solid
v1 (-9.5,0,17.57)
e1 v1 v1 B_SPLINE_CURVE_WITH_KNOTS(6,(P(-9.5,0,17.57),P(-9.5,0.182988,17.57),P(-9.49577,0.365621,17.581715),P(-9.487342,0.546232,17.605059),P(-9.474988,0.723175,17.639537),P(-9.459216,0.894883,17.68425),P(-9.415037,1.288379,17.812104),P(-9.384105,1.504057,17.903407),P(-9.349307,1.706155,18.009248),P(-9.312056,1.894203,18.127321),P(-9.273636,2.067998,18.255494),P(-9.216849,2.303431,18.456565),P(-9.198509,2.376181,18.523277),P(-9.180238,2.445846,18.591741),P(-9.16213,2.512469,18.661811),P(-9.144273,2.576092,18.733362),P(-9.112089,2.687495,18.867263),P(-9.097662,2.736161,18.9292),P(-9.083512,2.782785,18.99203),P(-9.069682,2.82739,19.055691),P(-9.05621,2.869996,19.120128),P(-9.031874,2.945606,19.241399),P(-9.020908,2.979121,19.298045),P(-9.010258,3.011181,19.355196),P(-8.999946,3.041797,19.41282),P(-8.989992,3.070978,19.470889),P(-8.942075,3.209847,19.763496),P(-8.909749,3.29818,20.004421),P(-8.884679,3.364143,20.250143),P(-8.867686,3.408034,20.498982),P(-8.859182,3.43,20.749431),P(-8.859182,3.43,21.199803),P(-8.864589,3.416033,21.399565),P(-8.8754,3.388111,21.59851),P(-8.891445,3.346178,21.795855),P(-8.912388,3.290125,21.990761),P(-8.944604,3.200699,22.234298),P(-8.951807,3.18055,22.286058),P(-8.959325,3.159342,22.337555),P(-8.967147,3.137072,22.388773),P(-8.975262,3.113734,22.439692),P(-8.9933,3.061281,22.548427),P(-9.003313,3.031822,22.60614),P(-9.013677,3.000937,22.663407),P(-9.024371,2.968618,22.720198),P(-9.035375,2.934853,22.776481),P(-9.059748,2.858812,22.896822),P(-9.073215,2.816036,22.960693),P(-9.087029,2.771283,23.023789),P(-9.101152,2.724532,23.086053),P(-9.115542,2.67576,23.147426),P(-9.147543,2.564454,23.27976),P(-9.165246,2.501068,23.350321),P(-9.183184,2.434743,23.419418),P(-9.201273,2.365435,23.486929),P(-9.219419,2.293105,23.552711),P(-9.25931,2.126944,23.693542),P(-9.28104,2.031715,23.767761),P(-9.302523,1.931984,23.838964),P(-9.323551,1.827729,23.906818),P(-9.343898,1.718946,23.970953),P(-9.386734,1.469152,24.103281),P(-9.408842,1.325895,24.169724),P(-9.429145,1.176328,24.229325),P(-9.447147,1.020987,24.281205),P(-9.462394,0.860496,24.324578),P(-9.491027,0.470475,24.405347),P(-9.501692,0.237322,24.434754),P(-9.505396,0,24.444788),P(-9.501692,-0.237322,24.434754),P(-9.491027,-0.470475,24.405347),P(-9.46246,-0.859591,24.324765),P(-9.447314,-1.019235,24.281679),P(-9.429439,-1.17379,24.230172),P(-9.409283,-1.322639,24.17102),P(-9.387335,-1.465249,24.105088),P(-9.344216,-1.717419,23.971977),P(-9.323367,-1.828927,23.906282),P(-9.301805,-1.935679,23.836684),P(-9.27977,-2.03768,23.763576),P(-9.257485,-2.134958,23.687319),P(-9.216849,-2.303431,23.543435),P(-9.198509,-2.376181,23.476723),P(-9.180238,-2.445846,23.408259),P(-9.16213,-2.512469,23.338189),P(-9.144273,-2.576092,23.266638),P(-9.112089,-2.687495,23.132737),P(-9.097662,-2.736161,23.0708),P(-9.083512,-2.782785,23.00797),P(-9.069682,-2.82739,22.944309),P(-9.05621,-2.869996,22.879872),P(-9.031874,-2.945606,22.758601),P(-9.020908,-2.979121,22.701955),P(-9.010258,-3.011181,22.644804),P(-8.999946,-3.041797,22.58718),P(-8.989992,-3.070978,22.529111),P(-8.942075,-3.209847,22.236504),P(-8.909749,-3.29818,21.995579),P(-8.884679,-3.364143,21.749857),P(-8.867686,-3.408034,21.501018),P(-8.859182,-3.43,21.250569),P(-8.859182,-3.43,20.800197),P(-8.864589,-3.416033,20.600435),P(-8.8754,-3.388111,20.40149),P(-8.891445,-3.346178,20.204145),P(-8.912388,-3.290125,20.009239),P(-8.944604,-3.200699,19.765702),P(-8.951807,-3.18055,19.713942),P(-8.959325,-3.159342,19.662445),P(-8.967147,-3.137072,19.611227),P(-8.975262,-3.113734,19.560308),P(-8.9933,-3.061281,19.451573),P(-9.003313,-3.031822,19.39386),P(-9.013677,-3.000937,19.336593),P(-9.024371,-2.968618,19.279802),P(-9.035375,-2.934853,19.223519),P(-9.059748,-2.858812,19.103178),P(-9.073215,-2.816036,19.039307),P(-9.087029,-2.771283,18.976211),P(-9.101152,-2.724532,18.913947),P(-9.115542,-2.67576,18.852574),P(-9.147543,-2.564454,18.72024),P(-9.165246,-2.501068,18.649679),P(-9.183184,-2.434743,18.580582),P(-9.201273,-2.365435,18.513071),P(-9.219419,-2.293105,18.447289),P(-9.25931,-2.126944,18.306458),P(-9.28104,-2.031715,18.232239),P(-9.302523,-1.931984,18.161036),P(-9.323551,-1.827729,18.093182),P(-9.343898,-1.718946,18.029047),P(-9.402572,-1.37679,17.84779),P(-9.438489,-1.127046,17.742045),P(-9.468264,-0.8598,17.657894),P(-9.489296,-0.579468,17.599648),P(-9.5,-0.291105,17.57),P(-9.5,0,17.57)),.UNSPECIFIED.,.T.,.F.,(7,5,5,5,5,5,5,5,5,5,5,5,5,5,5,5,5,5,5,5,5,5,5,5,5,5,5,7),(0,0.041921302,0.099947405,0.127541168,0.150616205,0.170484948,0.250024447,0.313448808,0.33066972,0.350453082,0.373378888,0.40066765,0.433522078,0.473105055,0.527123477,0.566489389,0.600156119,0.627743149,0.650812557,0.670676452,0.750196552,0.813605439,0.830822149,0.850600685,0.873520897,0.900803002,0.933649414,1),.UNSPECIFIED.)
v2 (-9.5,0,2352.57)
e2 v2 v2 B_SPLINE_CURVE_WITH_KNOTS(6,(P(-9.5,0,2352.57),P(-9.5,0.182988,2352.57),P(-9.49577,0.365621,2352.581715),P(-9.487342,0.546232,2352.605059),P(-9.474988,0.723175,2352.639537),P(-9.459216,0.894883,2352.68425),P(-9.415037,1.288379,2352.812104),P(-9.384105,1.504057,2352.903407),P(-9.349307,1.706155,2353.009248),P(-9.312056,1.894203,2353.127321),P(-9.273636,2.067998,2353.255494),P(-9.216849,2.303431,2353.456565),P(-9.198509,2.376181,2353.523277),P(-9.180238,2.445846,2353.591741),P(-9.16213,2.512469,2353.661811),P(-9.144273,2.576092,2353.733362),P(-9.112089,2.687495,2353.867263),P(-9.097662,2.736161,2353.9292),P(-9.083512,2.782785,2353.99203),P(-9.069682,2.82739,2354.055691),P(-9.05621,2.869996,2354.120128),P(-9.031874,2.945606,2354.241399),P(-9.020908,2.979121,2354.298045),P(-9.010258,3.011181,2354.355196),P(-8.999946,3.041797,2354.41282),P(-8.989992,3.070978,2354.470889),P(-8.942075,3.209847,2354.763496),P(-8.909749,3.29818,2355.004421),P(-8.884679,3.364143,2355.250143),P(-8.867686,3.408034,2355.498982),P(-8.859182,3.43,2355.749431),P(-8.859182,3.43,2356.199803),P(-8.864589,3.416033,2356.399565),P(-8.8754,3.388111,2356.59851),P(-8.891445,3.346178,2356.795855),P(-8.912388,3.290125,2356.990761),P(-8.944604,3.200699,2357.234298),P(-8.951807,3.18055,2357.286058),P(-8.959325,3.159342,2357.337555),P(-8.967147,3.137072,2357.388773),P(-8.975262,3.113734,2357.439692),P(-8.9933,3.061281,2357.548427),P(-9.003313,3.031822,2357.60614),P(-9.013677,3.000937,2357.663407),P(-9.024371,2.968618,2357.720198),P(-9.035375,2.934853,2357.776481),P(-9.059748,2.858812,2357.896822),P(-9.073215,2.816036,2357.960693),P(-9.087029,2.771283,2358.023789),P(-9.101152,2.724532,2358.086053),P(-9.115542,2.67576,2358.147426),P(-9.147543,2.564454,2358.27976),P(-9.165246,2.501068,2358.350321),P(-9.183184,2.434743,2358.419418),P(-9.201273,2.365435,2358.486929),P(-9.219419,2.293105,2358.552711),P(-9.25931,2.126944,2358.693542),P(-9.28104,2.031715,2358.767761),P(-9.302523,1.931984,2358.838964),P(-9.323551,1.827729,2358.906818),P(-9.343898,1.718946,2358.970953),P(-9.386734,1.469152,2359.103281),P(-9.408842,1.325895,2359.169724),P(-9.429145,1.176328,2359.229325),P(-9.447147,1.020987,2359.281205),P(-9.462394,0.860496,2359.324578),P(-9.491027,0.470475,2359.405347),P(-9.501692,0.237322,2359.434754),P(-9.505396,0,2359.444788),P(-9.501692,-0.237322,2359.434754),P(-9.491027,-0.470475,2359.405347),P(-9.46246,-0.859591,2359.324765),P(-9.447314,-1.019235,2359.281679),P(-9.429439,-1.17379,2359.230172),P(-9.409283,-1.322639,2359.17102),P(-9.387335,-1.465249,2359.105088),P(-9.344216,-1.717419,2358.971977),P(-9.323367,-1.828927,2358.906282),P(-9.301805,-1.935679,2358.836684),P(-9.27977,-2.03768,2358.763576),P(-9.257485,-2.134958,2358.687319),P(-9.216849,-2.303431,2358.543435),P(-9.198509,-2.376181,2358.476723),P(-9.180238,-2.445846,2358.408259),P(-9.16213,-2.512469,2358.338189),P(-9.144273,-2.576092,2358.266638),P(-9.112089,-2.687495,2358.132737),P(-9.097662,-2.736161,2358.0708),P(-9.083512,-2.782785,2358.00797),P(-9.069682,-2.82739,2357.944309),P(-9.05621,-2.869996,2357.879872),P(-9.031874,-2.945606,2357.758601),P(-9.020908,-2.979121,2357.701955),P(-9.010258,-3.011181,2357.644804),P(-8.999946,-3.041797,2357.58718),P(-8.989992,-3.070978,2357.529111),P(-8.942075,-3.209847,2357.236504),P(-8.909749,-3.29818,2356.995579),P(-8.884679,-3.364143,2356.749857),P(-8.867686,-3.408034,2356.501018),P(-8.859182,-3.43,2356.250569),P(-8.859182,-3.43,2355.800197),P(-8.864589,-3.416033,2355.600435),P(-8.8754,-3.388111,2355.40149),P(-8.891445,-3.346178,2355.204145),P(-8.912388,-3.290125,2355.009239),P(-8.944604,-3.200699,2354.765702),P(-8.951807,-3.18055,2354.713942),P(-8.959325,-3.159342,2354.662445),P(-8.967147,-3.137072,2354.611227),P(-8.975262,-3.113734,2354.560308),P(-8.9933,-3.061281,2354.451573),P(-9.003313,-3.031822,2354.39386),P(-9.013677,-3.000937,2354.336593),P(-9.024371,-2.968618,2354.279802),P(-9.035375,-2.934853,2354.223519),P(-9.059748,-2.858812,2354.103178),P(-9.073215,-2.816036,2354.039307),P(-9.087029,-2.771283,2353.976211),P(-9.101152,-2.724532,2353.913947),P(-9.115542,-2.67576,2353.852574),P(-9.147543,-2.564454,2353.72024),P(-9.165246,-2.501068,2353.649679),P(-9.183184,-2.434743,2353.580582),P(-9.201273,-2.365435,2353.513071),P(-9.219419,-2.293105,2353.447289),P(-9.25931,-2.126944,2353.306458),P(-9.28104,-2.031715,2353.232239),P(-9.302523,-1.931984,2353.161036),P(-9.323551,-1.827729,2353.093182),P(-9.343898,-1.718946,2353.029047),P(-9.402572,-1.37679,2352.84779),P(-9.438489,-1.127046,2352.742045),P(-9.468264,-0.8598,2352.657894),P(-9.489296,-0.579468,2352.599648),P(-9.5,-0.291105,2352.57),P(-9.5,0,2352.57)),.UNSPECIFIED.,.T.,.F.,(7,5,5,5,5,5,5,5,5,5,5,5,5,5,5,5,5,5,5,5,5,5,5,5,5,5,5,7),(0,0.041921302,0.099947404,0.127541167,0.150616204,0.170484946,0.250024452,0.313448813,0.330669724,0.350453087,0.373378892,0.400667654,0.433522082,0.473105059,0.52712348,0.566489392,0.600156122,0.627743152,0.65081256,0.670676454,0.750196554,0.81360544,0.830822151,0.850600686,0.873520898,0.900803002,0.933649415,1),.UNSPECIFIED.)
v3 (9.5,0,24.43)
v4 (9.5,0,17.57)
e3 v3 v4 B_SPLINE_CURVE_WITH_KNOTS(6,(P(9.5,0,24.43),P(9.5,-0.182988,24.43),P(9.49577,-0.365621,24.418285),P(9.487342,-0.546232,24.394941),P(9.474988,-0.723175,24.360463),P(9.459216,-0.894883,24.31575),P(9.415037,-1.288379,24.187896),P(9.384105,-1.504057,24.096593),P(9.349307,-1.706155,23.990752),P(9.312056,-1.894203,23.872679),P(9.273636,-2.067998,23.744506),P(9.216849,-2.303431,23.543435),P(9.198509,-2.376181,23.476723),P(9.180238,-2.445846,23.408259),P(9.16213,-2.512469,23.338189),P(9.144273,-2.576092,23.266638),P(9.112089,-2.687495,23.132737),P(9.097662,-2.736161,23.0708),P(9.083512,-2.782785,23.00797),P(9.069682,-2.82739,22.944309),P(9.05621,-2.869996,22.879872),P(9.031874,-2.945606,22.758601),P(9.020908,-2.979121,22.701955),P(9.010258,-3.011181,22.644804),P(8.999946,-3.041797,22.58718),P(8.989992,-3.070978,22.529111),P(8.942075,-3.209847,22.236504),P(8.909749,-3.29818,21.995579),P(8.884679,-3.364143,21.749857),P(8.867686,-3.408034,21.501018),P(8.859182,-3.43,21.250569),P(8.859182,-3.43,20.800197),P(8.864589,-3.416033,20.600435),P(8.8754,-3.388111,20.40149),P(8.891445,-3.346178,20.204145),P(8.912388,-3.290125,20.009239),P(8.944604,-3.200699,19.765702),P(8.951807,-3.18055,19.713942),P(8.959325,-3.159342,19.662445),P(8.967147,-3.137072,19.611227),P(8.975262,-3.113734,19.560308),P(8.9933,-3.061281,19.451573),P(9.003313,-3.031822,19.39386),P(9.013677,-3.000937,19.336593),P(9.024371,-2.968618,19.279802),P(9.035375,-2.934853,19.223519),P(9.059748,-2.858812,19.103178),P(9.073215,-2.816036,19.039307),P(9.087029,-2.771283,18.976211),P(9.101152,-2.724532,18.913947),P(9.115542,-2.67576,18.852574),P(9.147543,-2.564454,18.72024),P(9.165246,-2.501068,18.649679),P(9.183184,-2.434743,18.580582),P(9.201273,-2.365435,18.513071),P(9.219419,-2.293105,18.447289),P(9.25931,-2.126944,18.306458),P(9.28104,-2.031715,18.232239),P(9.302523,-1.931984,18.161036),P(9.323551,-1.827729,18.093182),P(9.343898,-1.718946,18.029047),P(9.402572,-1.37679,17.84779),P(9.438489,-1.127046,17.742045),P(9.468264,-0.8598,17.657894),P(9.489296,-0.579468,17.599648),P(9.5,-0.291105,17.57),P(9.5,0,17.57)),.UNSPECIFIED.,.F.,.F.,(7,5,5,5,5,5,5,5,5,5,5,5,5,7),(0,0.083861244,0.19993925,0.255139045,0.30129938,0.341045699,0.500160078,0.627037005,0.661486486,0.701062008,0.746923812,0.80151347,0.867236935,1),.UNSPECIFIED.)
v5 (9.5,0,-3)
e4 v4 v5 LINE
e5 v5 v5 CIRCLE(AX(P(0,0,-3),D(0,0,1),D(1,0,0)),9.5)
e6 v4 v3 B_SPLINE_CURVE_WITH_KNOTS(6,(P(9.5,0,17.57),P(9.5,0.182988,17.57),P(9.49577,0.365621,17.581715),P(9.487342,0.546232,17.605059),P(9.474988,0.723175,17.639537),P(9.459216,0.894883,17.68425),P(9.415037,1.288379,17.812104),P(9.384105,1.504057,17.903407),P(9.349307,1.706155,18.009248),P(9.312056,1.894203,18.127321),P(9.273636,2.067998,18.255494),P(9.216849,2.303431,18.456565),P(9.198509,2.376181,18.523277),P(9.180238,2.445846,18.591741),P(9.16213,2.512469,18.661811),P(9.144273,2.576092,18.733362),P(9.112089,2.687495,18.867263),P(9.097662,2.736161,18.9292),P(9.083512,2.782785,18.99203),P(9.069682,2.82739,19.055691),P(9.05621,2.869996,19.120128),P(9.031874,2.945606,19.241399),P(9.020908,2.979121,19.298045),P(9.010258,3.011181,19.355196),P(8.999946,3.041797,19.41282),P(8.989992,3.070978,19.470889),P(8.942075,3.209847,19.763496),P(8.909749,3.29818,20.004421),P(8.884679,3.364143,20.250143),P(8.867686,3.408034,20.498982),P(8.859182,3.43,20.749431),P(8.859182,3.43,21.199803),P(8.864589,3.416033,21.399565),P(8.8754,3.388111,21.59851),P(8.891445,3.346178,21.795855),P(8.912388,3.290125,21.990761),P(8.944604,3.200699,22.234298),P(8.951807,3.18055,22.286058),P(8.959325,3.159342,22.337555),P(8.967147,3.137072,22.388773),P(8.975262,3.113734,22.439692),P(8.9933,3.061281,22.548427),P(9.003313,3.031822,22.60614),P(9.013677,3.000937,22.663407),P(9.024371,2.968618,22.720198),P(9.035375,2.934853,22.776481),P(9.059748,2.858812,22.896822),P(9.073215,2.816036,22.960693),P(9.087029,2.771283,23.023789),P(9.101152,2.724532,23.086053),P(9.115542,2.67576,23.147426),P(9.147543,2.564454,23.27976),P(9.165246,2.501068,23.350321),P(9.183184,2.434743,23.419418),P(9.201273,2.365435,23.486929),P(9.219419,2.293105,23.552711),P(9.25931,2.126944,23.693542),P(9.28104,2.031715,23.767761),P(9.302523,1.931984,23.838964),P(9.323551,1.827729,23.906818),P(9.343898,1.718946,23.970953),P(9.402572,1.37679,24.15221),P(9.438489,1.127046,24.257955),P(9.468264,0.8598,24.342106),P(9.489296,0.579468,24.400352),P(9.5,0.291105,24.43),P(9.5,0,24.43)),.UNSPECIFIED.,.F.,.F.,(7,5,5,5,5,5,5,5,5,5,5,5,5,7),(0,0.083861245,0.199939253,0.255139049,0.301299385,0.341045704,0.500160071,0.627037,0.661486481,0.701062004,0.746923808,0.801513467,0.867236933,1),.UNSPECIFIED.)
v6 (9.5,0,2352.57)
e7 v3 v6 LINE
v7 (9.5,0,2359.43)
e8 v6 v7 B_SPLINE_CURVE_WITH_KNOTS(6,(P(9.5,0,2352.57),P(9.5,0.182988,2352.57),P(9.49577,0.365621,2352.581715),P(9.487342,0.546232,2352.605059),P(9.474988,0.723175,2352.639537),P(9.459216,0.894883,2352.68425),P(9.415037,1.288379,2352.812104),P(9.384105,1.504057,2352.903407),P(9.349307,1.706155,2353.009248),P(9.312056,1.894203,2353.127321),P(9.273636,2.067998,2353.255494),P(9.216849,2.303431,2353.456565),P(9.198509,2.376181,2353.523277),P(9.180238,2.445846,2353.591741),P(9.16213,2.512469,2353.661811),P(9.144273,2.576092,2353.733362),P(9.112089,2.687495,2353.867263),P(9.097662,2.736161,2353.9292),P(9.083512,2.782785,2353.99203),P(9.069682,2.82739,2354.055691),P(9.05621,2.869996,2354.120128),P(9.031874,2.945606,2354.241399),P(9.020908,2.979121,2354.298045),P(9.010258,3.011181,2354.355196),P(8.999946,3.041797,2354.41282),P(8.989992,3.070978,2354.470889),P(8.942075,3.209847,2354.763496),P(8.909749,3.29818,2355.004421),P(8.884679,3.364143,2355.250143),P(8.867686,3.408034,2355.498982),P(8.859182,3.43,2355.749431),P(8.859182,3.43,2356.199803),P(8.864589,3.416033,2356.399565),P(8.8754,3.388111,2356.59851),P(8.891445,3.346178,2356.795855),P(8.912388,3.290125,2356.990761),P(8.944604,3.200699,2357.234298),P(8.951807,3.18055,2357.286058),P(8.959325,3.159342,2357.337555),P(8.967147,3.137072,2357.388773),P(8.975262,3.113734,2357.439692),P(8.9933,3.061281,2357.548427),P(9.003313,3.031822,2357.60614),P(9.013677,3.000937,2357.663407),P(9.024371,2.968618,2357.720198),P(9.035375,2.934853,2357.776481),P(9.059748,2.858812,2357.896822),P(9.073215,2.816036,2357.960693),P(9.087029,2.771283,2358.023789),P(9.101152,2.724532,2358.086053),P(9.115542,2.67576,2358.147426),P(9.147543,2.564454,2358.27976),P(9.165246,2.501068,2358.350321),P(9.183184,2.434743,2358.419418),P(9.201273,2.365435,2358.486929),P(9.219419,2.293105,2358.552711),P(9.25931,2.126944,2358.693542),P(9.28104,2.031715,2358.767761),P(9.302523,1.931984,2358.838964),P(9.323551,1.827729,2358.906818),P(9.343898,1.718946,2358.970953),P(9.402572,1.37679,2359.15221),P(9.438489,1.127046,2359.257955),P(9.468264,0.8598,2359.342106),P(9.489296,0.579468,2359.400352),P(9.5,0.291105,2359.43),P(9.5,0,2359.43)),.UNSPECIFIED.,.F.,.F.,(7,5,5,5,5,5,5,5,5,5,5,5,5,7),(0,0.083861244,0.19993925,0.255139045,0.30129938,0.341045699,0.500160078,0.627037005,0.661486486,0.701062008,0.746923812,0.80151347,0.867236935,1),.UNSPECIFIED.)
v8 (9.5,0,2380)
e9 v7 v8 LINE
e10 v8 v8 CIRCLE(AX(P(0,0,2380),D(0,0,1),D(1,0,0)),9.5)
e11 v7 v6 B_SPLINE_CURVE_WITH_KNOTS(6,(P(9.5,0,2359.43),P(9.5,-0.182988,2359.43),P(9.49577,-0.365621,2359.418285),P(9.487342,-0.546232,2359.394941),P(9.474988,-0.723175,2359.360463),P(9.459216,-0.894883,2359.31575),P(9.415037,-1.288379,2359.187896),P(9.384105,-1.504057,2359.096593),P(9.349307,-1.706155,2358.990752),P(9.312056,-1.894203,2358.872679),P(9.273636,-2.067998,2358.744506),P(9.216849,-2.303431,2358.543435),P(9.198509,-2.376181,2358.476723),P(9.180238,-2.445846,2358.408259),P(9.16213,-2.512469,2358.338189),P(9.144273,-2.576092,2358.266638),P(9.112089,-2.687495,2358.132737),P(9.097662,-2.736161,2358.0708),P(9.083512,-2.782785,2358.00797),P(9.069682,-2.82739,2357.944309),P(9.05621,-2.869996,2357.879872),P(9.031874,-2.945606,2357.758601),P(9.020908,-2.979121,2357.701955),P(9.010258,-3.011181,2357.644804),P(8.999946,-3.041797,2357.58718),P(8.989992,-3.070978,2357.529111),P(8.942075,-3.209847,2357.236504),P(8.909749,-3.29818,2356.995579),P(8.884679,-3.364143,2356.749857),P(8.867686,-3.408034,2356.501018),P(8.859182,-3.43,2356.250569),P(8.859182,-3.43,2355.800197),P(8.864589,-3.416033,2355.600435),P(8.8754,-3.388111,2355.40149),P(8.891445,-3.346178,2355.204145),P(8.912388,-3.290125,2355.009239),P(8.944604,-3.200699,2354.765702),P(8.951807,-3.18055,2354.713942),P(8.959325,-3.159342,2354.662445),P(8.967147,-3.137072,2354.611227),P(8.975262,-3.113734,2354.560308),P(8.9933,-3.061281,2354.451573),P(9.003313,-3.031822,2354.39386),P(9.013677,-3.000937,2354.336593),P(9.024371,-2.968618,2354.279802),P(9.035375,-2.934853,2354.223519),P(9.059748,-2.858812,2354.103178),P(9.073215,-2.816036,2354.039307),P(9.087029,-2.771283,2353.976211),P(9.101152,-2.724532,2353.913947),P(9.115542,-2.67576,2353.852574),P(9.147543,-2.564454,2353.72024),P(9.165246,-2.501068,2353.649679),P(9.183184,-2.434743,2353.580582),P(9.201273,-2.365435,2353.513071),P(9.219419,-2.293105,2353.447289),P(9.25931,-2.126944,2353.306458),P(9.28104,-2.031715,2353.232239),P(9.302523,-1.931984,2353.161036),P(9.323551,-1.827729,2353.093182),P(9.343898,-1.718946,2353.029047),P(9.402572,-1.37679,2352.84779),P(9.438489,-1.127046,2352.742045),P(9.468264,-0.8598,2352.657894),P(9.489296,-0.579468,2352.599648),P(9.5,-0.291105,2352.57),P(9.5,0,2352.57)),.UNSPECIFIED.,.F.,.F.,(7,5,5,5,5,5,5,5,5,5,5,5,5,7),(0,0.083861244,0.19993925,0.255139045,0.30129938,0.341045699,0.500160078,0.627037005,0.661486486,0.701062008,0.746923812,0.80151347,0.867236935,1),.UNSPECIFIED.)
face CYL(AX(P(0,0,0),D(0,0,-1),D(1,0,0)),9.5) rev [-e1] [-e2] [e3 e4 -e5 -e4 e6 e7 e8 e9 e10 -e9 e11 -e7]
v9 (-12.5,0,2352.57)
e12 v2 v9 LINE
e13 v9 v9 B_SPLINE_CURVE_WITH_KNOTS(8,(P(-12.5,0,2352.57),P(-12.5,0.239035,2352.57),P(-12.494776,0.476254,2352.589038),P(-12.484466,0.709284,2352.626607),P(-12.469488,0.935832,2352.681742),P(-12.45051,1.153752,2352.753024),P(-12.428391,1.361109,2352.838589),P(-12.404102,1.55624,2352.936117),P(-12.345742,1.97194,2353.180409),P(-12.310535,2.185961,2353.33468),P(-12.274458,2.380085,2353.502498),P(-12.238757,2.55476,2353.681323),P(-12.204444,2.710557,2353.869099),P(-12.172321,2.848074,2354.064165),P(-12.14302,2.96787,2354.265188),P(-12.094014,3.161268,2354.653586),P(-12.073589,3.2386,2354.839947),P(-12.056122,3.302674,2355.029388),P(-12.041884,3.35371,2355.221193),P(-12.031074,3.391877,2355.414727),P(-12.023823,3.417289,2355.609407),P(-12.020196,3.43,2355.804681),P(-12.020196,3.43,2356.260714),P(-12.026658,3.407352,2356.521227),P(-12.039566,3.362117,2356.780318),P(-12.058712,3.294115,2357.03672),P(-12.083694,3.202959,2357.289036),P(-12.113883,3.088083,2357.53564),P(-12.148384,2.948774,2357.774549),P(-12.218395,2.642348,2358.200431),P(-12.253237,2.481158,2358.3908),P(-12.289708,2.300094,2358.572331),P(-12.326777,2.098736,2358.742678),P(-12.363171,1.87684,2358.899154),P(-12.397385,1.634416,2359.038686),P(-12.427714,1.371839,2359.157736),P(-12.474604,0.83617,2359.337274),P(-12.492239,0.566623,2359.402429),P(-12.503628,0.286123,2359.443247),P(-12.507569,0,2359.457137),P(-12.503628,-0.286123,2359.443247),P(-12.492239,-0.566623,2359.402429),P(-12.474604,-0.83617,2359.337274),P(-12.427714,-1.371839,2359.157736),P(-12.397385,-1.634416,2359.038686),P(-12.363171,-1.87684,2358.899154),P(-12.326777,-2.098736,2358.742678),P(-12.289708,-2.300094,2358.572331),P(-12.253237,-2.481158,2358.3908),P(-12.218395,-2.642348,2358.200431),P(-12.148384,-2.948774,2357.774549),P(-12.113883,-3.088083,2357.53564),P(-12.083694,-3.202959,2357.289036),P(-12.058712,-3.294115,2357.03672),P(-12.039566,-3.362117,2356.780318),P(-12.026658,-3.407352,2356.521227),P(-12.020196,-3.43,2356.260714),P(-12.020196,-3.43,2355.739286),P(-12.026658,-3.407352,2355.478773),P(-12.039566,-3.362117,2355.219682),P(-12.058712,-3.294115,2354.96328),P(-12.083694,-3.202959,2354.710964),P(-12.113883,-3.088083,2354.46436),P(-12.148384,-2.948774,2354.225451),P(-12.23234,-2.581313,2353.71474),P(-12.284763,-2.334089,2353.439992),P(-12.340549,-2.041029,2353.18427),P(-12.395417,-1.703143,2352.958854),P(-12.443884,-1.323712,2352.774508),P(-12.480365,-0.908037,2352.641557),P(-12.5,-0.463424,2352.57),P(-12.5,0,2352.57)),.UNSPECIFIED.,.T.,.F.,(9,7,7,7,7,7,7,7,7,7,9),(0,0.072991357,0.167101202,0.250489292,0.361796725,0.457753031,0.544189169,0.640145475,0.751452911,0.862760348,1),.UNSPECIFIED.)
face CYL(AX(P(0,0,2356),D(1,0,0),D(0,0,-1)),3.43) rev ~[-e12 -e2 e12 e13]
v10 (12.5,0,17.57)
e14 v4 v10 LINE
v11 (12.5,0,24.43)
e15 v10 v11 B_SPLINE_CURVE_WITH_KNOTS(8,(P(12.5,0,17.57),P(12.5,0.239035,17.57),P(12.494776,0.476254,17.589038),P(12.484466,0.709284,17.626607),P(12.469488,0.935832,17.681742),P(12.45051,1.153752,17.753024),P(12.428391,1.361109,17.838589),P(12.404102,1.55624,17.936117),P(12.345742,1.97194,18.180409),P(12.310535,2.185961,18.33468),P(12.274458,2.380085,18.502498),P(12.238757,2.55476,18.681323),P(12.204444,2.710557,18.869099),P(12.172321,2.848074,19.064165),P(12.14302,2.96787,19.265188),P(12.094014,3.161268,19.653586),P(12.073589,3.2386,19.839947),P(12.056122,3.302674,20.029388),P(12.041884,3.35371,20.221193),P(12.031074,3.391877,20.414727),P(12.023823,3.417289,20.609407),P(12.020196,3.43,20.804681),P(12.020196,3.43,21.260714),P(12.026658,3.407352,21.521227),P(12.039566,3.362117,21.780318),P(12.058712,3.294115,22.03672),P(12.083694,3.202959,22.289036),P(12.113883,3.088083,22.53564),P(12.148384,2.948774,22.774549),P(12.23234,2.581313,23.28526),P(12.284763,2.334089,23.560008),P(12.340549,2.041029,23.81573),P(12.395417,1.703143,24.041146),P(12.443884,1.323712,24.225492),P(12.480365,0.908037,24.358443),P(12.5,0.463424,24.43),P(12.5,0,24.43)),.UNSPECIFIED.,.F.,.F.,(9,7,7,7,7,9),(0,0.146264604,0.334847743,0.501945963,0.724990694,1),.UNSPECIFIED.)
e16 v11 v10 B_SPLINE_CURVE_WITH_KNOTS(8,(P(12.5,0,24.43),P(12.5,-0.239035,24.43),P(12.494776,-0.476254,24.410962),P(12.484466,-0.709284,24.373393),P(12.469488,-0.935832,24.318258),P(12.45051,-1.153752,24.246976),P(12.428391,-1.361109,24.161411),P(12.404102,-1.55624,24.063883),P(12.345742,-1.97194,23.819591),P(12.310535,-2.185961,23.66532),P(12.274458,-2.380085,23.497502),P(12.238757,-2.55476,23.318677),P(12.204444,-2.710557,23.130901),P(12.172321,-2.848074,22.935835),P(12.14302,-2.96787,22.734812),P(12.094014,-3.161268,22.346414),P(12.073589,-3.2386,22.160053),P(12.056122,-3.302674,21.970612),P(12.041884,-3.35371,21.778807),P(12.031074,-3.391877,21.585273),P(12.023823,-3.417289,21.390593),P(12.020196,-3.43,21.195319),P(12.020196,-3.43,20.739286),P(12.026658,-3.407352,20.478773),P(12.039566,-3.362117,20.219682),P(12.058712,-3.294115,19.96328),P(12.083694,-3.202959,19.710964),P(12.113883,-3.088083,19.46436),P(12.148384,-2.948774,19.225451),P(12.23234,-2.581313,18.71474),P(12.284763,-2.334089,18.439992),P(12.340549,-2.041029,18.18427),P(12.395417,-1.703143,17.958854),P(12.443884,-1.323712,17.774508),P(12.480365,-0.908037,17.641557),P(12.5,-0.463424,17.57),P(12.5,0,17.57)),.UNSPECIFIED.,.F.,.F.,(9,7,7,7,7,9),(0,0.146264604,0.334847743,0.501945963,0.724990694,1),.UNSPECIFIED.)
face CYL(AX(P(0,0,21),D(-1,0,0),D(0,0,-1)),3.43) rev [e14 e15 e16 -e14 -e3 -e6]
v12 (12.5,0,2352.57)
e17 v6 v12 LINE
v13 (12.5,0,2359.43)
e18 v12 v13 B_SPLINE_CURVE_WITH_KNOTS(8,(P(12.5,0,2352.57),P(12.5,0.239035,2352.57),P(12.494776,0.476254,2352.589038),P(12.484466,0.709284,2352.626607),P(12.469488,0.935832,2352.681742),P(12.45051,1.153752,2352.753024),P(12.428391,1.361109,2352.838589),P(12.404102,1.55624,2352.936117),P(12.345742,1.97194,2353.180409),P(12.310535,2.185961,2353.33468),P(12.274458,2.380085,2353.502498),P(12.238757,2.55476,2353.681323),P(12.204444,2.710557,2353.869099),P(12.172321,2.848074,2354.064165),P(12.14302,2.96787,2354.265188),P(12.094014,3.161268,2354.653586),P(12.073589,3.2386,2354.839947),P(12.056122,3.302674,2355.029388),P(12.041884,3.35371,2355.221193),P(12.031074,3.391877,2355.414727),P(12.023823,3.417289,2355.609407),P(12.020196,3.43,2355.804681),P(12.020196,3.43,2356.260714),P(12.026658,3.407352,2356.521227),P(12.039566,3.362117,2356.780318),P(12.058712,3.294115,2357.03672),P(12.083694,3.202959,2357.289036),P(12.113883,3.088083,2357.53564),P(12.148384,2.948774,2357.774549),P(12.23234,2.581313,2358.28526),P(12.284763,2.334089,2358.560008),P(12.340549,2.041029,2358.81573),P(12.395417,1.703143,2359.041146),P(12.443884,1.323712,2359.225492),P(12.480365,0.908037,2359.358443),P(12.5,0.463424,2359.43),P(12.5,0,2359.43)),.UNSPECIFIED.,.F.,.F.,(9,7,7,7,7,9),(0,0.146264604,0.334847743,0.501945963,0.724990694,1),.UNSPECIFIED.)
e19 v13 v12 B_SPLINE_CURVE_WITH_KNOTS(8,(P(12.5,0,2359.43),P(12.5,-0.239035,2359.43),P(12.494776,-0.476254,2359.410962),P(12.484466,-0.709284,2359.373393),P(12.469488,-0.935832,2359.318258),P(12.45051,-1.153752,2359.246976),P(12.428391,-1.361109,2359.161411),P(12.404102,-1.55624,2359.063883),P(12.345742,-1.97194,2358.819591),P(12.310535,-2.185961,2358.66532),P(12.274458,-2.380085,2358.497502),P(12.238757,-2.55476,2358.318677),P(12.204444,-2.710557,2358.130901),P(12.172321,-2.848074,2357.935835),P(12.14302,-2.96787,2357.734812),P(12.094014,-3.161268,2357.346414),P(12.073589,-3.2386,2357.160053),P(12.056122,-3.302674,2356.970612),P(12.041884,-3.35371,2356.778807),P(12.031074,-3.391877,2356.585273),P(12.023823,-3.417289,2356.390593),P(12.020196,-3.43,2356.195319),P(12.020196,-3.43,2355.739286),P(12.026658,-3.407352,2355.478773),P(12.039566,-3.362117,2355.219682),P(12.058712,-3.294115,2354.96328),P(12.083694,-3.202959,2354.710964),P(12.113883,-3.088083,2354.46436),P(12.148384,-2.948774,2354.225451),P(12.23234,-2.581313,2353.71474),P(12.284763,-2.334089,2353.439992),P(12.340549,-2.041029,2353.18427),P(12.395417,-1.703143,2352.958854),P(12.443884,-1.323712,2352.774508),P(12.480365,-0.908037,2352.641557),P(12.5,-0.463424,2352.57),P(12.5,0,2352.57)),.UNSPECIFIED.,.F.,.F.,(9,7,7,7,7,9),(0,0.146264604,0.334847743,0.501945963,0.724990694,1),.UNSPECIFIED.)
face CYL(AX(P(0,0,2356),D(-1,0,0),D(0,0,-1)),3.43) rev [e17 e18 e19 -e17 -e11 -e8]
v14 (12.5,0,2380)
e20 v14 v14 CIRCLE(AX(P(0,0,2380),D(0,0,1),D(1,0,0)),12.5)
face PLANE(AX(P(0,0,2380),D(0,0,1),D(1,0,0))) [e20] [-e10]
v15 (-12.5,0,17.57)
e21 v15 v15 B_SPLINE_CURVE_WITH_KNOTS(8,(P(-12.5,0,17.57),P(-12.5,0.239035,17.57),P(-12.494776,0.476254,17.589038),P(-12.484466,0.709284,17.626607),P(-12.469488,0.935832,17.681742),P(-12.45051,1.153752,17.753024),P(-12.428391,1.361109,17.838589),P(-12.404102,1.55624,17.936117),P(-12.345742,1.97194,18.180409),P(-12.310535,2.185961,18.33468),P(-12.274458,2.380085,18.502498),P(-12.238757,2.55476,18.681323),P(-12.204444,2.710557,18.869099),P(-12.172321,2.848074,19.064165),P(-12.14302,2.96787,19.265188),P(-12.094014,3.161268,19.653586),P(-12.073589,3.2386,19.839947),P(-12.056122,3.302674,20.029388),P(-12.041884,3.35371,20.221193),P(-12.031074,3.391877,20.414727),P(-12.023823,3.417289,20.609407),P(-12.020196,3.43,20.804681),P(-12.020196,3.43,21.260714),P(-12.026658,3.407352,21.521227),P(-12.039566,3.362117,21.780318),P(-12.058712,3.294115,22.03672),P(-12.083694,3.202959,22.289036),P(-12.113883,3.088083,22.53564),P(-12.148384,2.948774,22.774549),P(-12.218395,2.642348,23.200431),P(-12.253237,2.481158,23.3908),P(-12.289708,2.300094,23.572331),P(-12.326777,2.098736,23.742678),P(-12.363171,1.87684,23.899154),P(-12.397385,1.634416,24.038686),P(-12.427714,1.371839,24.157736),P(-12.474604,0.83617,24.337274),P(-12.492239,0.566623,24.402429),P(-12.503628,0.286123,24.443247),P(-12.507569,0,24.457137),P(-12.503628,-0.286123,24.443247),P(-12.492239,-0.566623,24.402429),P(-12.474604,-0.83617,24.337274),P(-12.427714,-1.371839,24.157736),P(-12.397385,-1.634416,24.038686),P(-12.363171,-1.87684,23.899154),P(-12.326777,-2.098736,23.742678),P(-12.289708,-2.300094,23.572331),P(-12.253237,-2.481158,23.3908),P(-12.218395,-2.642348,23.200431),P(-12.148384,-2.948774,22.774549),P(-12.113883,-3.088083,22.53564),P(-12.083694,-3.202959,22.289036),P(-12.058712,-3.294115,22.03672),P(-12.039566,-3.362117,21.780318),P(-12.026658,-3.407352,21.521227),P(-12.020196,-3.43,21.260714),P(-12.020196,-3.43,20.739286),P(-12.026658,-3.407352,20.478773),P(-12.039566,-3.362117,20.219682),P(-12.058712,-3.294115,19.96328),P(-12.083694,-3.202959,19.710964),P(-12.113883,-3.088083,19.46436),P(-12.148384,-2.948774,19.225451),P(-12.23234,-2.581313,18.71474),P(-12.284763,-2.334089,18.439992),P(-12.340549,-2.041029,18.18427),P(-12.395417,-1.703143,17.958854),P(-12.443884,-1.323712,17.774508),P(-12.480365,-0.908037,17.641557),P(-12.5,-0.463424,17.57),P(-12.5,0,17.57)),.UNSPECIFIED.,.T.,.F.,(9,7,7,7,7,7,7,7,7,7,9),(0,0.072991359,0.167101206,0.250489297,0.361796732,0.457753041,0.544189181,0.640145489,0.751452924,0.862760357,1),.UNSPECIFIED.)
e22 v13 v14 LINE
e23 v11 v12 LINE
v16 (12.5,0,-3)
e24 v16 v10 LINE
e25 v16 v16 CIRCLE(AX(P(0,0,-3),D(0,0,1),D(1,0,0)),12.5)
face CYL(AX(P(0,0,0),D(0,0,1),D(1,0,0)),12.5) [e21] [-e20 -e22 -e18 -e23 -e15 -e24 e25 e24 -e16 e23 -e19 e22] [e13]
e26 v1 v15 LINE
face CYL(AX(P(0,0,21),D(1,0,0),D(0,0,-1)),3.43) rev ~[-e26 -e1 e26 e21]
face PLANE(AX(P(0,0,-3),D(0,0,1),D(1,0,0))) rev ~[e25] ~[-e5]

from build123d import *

# Parameters (mm, degrees)
CROQUIS1_R                   = 12.5
CROQUIS1_R_2                 = 9.5
SALIENTE_EXTRUIR1_DEPTH      = 2380
SALIENTE_EXTRUIR1_DEPTH_BACK = 3
CROQUIS2_R                   = 3.43
CORTAR_EXTRUIR1_DEPTH        = 13.5
CORTAR_EXTRUIR1_DEPTH_BACK   = 13.5
CROQUIS3_R                   = 3.43
CORTAR_EXTRUIR2_DEPTH        = 13.5000001
CORTAR_EXTRUIR2_DEPTH_BACK   = 13.5000001


with BuildPart() as part:
    # Croquis1 → Saliente-Extruir1 (new body, two sides)
    with BuildSketch(Plane.XY) as saliente_extruir1_sk:
        Circle(CROQUIS1_R)
        Circle(CROQUIS1_R_2, mode=Mode.SUBTRACT)
    extrude(amount=SALIENTE_EXTRUIR1_DEPTH)
    extrude(saliente_extruir1_sk.sketch, amount=-SALIENTE_EXTRUIR1_DEPTH_BACK)

    # Croquis2 → Cortar-Extruir1 (cut, two sides)
    with BuildSketch(Plane(origin=(0, 0, 0), x_dir=(0, 0, -1), z_dir=(1, 0, 0))) as cortar_extruir1_sk:
        with Locations((-21, 0)):
            Circle(CROQUIS2_R)
    extrude(amount=CORTAR_EXTRUIR1_DEPTH, mode=Mode.SUBTRACT)
    extrude(cortar_extruir1_sk.sketch, amount=-CORTAR_EXTRUIR1_DEPTH_BACK, mode=Mode.SUBTRACT)

    # Croquis3 → Cortar-Extruir2 (cut, two sides)
    with BuildSketch(Plane(origin=(0, 0, 0), x_dir=(0, 0, -1), z_dir=(1, 0, 0))) as cortar_extruir2_sk:
        with Locations((-2356, 0)):
            Circle(CROQUIS3_R)
    extrude(amount=CORTAR_EXTRUIR2_DEPTH, mode=Mode.SUBTRACT)
    extrude(cortar_extruir2_sk.sketch, amount=-CORTAR_EXTRUIR2_DEPTH_BACK, mode=Mode.SUBTRACT)


solid = part.part
